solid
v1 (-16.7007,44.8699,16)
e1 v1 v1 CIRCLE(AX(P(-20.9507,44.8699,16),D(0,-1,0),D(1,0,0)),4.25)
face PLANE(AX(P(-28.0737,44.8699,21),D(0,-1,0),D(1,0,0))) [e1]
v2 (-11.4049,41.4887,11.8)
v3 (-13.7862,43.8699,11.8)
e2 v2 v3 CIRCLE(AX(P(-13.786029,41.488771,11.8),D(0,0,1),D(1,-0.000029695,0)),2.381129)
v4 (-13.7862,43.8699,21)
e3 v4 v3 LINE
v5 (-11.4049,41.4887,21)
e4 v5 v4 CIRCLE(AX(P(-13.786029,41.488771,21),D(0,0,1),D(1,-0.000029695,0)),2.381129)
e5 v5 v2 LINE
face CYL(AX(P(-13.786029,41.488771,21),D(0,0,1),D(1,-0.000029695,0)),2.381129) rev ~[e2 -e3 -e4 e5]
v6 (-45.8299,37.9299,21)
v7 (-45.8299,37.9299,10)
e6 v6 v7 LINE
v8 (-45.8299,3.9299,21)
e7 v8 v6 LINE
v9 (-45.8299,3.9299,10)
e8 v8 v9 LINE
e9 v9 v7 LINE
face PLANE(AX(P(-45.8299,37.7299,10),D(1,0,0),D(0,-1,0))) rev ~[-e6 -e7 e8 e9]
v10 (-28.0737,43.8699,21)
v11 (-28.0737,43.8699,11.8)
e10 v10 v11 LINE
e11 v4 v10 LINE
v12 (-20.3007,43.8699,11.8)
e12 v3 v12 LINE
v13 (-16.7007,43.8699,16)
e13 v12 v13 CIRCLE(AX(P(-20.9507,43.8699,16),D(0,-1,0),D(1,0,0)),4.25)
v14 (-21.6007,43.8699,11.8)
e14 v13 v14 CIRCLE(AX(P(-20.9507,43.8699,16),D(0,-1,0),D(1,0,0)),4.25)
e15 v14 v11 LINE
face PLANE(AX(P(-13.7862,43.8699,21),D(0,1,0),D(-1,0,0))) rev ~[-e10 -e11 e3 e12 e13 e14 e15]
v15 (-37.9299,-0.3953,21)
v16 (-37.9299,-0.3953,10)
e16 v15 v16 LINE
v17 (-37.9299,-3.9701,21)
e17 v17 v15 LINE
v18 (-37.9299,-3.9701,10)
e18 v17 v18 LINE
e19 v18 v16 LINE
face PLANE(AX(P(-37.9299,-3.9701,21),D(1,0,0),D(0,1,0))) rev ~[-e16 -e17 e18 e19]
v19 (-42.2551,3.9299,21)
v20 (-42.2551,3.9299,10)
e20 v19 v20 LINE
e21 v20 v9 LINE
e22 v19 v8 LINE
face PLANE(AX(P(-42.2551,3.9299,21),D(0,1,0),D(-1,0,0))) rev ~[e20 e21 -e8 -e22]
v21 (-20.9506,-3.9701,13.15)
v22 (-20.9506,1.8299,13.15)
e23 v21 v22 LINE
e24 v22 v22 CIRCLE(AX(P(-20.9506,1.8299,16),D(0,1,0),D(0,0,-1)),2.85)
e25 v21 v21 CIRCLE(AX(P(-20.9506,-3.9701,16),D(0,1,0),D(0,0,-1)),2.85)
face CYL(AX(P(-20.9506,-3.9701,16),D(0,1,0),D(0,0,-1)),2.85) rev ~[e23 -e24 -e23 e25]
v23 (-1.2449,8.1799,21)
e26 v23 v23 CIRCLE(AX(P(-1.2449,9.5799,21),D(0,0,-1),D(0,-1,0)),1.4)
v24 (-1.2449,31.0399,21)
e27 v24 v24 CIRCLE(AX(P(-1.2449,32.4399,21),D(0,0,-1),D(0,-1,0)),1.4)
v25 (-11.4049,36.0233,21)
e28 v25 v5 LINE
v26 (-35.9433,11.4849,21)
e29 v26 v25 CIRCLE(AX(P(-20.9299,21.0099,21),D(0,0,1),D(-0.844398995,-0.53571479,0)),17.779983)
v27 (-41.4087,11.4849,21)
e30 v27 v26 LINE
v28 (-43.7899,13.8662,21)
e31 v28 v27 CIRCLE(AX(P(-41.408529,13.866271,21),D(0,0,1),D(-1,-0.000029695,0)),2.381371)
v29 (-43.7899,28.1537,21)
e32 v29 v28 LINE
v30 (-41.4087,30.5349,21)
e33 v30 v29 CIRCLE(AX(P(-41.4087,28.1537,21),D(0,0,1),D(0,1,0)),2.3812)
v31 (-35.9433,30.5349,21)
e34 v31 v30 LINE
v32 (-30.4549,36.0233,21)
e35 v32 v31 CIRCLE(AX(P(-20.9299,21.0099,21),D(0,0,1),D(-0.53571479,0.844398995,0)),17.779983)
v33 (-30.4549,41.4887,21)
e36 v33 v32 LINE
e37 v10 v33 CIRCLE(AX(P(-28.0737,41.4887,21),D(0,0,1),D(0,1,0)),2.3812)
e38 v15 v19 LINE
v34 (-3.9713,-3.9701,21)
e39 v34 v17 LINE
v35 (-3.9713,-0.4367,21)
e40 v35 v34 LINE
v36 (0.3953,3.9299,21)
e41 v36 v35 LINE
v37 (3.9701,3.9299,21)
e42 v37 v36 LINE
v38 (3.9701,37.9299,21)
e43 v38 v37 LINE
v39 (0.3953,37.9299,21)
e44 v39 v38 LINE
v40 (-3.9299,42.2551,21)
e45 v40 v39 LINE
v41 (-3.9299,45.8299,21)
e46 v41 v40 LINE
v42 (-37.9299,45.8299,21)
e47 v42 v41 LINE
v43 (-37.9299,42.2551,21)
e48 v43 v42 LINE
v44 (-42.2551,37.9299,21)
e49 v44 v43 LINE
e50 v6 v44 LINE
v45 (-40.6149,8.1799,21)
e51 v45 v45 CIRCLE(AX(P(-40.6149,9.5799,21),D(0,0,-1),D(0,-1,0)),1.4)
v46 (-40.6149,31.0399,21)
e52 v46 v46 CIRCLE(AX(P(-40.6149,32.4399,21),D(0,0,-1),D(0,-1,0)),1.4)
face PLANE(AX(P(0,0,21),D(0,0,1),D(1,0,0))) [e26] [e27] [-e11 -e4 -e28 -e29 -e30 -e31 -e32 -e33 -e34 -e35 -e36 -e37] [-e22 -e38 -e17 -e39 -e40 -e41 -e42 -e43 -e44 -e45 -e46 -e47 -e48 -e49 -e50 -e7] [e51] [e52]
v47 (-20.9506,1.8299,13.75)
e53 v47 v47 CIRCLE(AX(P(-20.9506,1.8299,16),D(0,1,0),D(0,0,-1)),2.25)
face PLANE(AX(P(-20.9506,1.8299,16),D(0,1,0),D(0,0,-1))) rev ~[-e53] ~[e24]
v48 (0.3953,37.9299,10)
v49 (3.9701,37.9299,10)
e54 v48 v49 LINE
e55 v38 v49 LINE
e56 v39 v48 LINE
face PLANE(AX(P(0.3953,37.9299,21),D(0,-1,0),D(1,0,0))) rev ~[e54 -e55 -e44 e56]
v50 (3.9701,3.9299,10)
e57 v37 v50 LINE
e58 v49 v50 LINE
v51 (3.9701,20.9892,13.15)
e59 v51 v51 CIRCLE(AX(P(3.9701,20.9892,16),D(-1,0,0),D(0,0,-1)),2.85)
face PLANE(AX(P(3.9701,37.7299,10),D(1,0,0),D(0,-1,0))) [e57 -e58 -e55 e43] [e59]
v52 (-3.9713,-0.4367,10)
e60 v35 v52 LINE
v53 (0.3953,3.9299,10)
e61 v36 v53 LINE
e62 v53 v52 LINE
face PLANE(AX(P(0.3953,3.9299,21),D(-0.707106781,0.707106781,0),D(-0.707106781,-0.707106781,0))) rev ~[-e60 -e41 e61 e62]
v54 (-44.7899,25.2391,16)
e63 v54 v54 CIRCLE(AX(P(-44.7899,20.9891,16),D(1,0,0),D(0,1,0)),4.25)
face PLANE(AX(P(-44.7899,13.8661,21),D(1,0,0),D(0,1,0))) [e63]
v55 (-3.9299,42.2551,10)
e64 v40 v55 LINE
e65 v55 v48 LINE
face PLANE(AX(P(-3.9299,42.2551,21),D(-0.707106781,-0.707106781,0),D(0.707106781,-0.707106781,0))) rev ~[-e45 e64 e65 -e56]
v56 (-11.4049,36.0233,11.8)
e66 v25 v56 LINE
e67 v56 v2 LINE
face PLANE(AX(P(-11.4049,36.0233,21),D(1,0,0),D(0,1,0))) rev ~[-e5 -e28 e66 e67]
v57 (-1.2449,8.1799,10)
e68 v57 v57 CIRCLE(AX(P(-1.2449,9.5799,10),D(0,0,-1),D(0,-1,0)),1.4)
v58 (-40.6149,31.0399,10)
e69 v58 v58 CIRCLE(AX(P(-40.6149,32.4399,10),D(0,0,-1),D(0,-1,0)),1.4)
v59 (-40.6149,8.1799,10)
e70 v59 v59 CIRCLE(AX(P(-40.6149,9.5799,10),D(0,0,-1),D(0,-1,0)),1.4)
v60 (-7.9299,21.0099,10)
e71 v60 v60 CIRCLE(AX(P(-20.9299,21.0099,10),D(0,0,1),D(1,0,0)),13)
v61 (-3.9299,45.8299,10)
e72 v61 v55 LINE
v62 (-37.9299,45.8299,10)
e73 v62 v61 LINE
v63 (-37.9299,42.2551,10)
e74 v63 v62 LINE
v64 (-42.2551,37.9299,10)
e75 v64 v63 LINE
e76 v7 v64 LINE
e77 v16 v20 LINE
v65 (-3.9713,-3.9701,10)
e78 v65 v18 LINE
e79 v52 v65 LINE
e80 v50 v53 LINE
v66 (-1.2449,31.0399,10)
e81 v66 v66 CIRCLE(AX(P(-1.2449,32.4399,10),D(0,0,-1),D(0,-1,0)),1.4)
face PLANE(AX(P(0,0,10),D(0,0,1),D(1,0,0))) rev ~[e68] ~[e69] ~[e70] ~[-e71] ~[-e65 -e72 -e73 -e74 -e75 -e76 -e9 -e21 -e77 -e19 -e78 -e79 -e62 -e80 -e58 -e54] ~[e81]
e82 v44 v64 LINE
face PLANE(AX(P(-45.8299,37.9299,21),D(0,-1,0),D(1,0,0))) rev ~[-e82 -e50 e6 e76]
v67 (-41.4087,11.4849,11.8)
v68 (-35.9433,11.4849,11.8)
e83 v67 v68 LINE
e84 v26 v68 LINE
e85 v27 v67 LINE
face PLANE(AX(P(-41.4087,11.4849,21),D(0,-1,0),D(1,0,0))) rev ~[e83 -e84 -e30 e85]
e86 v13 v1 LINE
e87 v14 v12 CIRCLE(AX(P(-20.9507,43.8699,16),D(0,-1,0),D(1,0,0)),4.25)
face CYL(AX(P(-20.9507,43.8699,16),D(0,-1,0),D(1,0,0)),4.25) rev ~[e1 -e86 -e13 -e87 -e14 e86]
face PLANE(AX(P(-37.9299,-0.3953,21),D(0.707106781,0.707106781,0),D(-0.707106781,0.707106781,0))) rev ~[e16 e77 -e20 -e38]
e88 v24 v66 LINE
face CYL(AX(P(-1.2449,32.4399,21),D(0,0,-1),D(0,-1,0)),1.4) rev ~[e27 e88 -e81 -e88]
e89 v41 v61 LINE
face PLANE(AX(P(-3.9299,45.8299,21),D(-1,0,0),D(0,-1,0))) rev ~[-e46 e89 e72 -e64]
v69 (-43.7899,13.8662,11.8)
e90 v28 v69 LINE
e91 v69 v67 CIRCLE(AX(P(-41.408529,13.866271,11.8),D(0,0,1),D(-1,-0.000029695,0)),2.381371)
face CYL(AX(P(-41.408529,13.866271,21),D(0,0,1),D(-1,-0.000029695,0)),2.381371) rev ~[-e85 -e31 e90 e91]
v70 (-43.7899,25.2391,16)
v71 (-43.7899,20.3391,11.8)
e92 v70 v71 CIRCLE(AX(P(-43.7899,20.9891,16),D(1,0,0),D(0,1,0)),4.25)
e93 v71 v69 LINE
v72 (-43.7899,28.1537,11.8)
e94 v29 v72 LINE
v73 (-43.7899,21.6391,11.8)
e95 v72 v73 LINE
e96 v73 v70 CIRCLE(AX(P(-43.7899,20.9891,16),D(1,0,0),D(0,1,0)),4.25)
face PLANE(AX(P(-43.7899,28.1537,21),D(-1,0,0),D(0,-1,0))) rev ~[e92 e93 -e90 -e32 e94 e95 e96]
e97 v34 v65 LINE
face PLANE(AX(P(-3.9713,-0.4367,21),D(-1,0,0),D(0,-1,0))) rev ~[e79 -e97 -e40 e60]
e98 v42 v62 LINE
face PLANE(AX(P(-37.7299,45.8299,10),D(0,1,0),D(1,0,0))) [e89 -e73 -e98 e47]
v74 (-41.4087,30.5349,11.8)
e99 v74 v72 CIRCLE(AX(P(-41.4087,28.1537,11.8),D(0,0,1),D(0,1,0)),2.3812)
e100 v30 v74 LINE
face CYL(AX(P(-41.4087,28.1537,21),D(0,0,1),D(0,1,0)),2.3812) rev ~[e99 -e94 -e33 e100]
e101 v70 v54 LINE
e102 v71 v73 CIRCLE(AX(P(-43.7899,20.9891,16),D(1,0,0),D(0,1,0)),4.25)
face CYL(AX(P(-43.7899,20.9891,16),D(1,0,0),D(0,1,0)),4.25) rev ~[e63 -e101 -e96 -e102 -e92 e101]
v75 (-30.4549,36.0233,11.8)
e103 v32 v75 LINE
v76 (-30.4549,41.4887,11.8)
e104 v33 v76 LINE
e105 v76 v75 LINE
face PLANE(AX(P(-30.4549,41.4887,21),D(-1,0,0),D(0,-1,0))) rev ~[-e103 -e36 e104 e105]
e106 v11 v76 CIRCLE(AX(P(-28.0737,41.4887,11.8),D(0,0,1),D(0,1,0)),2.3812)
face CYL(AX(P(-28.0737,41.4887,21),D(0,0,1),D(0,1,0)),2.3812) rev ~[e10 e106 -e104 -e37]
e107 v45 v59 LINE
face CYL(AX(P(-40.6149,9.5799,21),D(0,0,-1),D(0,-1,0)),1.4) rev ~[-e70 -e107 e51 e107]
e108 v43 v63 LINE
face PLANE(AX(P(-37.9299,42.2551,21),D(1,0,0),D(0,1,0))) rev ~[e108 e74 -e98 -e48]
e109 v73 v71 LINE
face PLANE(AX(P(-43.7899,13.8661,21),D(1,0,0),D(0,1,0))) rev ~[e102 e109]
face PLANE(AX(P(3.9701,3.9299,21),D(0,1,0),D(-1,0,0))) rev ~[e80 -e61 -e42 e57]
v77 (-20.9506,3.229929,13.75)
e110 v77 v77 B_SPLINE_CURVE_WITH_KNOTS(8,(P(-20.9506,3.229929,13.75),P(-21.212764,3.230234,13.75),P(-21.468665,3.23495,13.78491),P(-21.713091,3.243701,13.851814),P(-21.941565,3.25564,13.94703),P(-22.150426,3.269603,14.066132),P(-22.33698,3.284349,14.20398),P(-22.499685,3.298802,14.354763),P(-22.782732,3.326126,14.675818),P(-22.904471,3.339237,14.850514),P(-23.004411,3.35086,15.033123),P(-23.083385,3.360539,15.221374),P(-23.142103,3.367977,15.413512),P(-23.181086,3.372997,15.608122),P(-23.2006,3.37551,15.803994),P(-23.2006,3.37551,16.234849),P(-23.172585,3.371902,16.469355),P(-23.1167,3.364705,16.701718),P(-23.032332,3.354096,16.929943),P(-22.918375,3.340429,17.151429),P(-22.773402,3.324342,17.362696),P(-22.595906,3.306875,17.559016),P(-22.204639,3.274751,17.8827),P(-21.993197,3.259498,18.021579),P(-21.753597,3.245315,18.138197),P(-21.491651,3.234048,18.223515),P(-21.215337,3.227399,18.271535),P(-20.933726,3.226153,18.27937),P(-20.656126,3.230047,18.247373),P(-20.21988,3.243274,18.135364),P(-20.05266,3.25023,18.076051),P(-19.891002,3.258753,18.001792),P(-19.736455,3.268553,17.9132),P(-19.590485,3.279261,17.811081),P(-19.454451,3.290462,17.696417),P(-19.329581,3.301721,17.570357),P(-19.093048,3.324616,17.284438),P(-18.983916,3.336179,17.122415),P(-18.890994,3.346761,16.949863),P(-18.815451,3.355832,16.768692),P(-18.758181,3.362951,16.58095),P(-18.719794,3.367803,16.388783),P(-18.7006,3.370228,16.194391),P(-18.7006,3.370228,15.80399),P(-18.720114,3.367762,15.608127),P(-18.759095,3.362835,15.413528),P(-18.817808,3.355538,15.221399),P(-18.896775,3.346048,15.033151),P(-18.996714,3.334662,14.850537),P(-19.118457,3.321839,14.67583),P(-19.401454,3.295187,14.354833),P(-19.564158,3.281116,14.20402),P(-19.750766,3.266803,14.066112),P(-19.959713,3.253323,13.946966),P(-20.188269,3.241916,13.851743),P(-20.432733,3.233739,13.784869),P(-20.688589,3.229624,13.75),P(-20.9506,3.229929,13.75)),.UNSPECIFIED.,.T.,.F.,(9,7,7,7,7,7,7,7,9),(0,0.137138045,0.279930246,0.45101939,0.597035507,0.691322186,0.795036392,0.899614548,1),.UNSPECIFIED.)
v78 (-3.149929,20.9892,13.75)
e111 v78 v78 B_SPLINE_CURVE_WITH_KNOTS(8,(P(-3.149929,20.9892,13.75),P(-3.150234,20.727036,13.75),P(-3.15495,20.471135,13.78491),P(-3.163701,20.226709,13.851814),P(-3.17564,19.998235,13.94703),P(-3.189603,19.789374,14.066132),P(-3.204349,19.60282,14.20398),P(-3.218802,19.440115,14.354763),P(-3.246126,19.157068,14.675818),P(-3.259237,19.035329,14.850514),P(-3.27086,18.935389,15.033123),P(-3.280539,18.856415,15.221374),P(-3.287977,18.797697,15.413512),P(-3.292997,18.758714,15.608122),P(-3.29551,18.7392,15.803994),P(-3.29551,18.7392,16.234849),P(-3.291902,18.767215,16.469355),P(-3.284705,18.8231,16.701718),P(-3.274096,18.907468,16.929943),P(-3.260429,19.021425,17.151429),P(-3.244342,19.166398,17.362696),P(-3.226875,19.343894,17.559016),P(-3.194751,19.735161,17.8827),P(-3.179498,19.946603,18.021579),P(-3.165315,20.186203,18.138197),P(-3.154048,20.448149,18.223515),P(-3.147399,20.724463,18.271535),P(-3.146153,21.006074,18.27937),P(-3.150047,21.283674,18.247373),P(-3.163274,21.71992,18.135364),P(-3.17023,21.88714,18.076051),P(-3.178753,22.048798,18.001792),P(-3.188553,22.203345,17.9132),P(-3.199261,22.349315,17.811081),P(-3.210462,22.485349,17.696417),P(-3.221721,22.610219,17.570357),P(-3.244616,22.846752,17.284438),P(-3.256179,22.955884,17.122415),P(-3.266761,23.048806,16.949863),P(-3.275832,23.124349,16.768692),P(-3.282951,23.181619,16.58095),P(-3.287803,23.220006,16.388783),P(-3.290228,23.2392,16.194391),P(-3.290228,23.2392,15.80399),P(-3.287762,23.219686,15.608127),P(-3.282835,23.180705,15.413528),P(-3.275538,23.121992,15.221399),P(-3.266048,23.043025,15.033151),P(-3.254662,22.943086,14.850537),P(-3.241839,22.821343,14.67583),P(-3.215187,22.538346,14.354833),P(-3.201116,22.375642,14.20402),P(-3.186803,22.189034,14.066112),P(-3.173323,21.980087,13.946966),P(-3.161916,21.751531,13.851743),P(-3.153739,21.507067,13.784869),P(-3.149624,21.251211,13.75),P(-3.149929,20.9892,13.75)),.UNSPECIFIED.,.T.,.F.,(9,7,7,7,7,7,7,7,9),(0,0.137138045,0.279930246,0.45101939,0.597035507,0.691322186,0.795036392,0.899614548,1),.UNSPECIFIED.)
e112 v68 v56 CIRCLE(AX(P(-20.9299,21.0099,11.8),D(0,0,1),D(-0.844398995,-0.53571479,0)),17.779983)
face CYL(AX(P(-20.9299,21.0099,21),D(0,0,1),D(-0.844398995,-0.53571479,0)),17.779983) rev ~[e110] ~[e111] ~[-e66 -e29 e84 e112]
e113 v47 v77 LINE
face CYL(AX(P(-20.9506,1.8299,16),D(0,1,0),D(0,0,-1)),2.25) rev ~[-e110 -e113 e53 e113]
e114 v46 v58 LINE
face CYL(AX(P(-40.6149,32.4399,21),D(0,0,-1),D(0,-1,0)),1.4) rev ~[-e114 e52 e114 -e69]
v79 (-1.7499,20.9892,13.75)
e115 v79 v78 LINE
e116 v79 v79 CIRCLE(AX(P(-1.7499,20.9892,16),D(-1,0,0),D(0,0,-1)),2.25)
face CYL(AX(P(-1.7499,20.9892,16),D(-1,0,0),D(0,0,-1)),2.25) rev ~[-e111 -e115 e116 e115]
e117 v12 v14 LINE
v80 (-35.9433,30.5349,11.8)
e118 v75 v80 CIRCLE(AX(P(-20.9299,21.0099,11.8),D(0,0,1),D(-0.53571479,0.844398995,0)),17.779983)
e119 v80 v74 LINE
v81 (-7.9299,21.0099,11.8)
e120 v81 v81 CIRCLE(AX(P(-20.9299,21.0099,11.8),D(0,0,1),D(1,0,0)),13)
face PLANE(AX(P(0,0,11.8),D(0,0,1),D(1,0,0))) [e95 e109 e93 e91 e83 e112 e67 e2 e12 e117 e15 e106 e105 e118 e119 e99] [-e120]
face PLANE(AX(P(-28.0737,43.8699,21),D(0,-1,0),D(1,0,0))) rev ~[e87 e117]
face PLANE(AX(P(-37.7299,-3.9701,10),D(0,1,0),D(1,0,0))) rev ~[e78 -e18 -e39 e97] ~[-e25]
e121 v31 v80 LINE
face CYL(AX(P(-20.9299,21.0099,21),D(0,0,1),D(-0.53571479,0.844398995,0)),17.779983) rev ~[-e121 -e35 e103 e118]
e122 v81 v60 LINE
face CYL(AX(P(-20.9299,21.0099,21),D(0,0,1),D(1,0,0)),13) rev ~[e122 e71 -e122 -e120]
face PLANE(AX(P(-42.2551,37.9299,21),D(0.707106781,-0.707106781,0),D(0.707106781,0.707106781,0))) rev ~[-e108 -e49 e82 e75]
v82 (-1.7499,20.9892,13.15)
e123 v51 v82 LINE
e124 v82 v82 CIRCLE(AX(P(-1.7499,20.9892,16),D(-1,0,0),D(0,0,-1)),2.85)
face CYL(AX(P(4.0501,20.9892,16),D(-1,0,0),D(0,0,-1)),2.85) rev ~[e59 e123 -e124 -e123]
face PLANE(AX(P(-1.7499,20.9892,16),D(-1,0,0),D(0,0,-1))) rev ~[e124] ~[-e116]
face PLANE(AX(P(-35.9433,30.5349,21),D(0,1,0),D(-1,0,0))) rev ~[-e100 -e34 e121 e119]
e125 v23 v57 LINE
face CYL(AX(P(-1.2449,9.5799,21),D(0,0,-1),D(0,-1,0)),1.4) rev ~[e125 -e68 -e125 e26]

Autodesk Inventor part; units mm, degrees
ref_plane "YZ Plane" through (0, 0, 0) normal (1, 0, 0) x (0, 1, 0)
ref_plane "XZ Plane" through (0, 0, 0) normal (0, 1, 0) x (-1, 0, 0)
ref_plane "Work Plane1" through (0, 0, 10) normal (0, 0, 1) x (1, 0, 0)
sketch "Sketch1" plane through (0, 0, 10) normal (0, 0, 1) x (1, 0, 0)
  line L0 (-4.0299, -0.3538) -> (-2.2322, 1.4439) construction
  arc A0 (-1.4439, 2.2322) -> (-2.2322, 1.4439) centre (-0.9299, 0.9299) ccw construction
  line L1 (-1.4439, 2.2322) -> (0.3538, 4.0299) construction
  line L2 (-37.8299, 42.8299) -> (-37.8299, 37.8299) construction
  line L3 (-37.8299, 37.8299) -> (-42.9208, 37.8299) construction
  line L4 (-37.8299, 42.2137) -> (-37.8299, 45.8299) construction
  line L5 (-37.8299, 45.8299) -> (-4.0299, 45.8299) construction
  line L6 (-4.0299, 45.8299) -> (-4.0299, 42.2137) construction
  line L7 (-4.0299, 4.0299) -> (0.3538, 4.0299) projected
  circle A1 centre (-20.9299, 20.9299) radius 17.5 projected
  line L8 (-20.9299, 58.9723) -> (17.1124, 20.9299) construction
  line L9 (17.1124, 20.9299) -> (-20.9299, -17.1124) construction
  line L10 (-20.9299, -17.1124) -> (-58.9723, 20.9299) construction
  line L11 (-58.9723, 20.9299) -> (-20.9299, 58.9723) construction
  line L12 (-20.9299, 58.9723) -> (-20.9299, -17.1124) construction
  line L13 (17.1124, 20.9299) -> (-58.9723, 20.9299) construction
  line L14 (-20.9299, 58.9723) -> (32.8701, 58.9723) construction
  line L15 (-43.4299, 43.4299) -> (1.5701, 43.4299) construction
  line L16 (1.5701, 43.4299) -> (1.5701, -1.5701) construction
  line L17 (1.5701, -1.5701) -> (-43.4299, -1.5701) construction
  line L18 (-43.4299, -1.5701) -> (-43.4299, 43.4299) construction
  line L19 (-43.4299, 43.4299) -> (1.5701, -1.5701) construction
  line L20 (1.5701, 43.4299) -> (-43.4299, -1.5701) construction
  line L21 (-43.4299, 5.3876) -> (-43.4299, 36.4723)
  line L22 (-43.4299, 36.4723) -> (-36.4723, 43.4299)
  line L23 (-36.4723, 43.4299) -> (-5.3876, 43.4299)
  line L24 (-5.3876, 43.4299) -> (1.5701, 36.4723)
  line L25 (1.5701, 36.4723) -> (1.5701, 5.3876)
  line L26 (1.5701, 5.3876) -> (-5.3876, -1.5701)
  line L27 (-5.3876, -1.5701) -> (-36.4723, -1.5701)
  line L28 (-36.4723, -1.5701) -> (-43.4299, 5.3876)
  line L29 (-4.0299, 42.2137) -> (-37.8299, 42.2137) projected
  line L30 (-4.0299, -0.3538) -> (-4.0299, 4.0299) projected
  circle A2 centre (-20.9299, 20.9299) radius 1.5
  line L31 (-10.9299, 10.9299) -> (-30.9299, 10.9299) construction
  line L32 (-30.9299, 10.9299) -> (-30.9299, 30.9299) construction
  line L33 (-30.9299, 30.9299) -> (-10.9299, 30.9299) construction
  line L34 (-10.9299, 30.9299) -> (-10.9299, 10.9299) construction
  line L35 (-10.9299, 10.9299) -> (-30.9299, 30.9299) construction
  line L36 (-30.9299, 10.9299) -> (-10.9299, 30.9299) construction
  circle A3 centre (-30.9299, 30.9299) radius 1.4
  circle A4 centre (-30.9299, 10.9299) radius 1.4
  circle A5 centre (-10.9299, 10.9299) radius 1.4
  line L37 (-45.8299, 37.8299) -> (-42.0723, 37.8299) construction
  line L38 (-42.1723, 37.7299) -> (-45.8299, 37.7299)
  line L39 (-45.8299, 37.7299) -> (-45.8299, 4.1299)
  line L40 (-45.8299, 4.1299) -> (-42.1723, 4.1299)
  line L41 (-42.1723, 4.1299) -> (-42.1723, 37.7299)
  line L42 (-45.8299, 4.0299) -> (-42.0723, 4.0299) construction
  line L43 (-45.8299, 37.8299) -> (-42.0723, 37.8299) projected
  line L44 (-37.7299, 45.8299) -> (-4.1299, 45.8299)
  line L45 (-4.1299, 45.8299) -> (-4.1299, 42.1723)
  line L46 (-4.1299, 42.1723) -> (-37.7299, 42.1723)
  line L47 (-37.7299, 42.1723) -> (-37.7299, 45.8299)
  line L48 (0.4701, 37.8299) -> (0.4701, 4.0299) construction
  line L49 (0.4701, 4.0299) -> (3.9701, 4.0299) construction
  line L50 (3.9701, 37.8299) -> (3.9701, 4.0299) construction
  line L51 (0.4701, 37.8299) -> (3.9701, 37.8299) construction
  line L52 (-45.8299, -3.9701) -> (-4.0299, -3.9701) construction
  line L53 (0.3124, 37.7299) -> (3.9701, 37.7299)
  line L54 (3.9701, 37.7299) -> (3.9701, 4.1299)
  line L55 (3.9701, 4.1299) -> (0.3124, 4.1299)
  line L56 (0.3124, 4.1299) -> (0.3124, 37.7299)
  line L57 (-4.1713, -0.3538) -> (-37.7299, -0.3538)
  line L58 (-37.7299, -0.3538) -> (-37.7299, -3.9701)
  line L59 (-37.7299, -3.9701) -> (-4.1713, -3.9701)
  line L60 (-4.1713, -3.9701) -> (-4.1713, -0.3538)
  point P0 (-37.8299, 4.0299)
  dimension "d18" = 53.8
  dimension "d19" = 45
  dimension "d20" = 53.8
  dimension "d21" = 45
  dimension "d22" = 45
  dimension "d30" = 20
  dimension "d31" = 20
  dimension "d32" = 2.8
  dimension "d33" = 2.8
  dimension "d34" = 2.8
  dimension "d35" = 3
  dimension "d36" = 0.1
  dimension "d37" = 0.1
  dimension "d38" = 0.1
  dimension "d39" = 0.1
extrude "Extrusion1" add sketch "Sketch1" along normal blind 11 contours L30 L26 L57 L28 L41 L22 L46 L24 L56 L7 | L7 L26 L30 | L56 L24 L25 L26 | L26 L25 L24 L53 L54 L55 | L60 L59 L58 L57 L28 L27 L26 | L26 L27 L28 L57 | L46 L22 L29 L24 | L24 L29 L45 | L40 L39 L38 L22 L21 L28 | L28 L21 L22 L41 | L29 L22 L23 L24 | L24 L23 L22 L29 L47 L44 L45 | L47 L29 L22 | A1 | A2 | A3 | A4 | A5
sketch "Skizze4" plane through (0, 0, 21) normal (0, 0, 1) x (1, 0, 0)
  line L0 (-37.7299, 42.1723) -> (-42.1723, 37.7299) projected
  line L1 (-42.1723, 37.7299) -> (-45.8299, 37.7299) projected
  line L2 (-45.8299, 37.7299) -> (-45.8299, 4.1299) construction
  line L3 (-45.8299, 4.1299) -> (-42.1723, 4.1299) projected
  line L4 (-42.1723, 4.1299) -> (-37.6885, -0.3538) projected
  line L5 (-37.6885, -0.3538) -> (-37.7299, -0.3538) projected
  line L6 (-37.7299, -0.3538) -> (-37.7299, -3.9701) projected
  line L7 (-37.7299, -3.9701) -> (-4.1713, -3.9701) construction
  line L8 (-4.1713, -3.9701) -> (-4.1713, -0.3538) projected
  line L9 (-4.1713, -0.3538) -> (0.3124, 4.1299) projected
  line L10 (0.3124, 4.1299) -> (3.9701, 4.1299) projected
  line L11 (3.9701, 4.1299) -> (3.9701, 37.7299) construction
  line L12 (3.9701, 37.7299) -> (0.3124, 37.7299) projected
  line L13 (0.3124, 37.7299) -> (-4.1299, 42.1723) projected
  line L14 (-4.1299, 42.1723) -> (-4.1299, 45.8299) projected
  line L15 (-4.1299, 45.8299) -> (-37.7299, 45.8299) construction
  line L16 (-37.7299, 45.8299) -> (-37.7299, 42.1723) projected
  line L17 (-37.9299, 46.0299) -> (-3.9299, 46.0299) construction
  line L18 (-3.9299, 46.0299) -> (-3.9299, 42.2551)
  line L19 (-3.9299, 42.2551) -> (0.3953, 37.9299)
  line L20 (0.3953, 37.9299) -> (4.1701, 37.9299)
  line L21 (4.1701, 37.9299) -> (4.1701, 3.9299) construction
  line L22 (4.1701, 3.9299) -> (0.3953, 3.9299)
  line L23 (0.3953, 3.9299) -> (-3.9713, -0.4367)
  line L24 (-3.9713, -0.4367) -> (-3.9713, -4.1701)
  line L25 (-3.9713, -4.1701) -> (-37.9299, -4.1701) construction
  line L26 (-37.9299, -4.1701) -> (-37.9299, -0.3953)
  line L27 (-37.9299, -0.3953) -> (-42.2551, 3.9299)
  line L28 (-42.2551, 3.9299) -> (-46.0299, 3.9299)
  line L29 (-46.0299, 3.9299) -> (-46.0299, 37.9299) construction
  line L30 (-46.0299, 37.9299) -> (-42.2551, 37.9299)
  line L31 (-42.2551, 37.9299) -> (-37.9299, 42.2551)
  line L32 (-37.9299, 42.2551) -> (-37.9299, 46.0299)
  line L33 (-45.8299, 37.7299) -> (-45.8299, 37.9299)
  line L34 (-4.1299, 45.8299) -> (-37.7299, 45.8299) projected
  line L35 (-37.7299, 45.8299) -> (-37.9299, 45.8299)
  line L36 (-4.1299, 45.8299) -> (-3.9299, 45.8299)
  line L37 (3.9701, 37.7299) -> (3.9701, 37.9299)
  line L38 (3.9701, 4.1299) -> (3.9701, 37.7299) projected
  line L39 (3.9701, 4.1299) -> (3.9701, 3.9299)
  line L40 (-4.1713, -3.9701) -> (-3.9713, -3.9701)
  line L41 (-37.7299, -3.9701) -> (-37.9299, -3.9701)
  line L42 (-45.8299, 4.1299) -> (-45.8299, 3.9299)
  point P0 (0, 0)
  dimension "d40" = 0.2
extrude "IM_offset" add sketch "Skizze4" against normal up to surface (11 mm away)
ref_plane "Arbeitsebene5" through (-20.9299, 3.9299, 10) normal (1, 0, 0) x (0, 0, -1)
ref_plane "Arbeitsebene6" through (-37.9299, 20.9299, 10) normal (0, 1, 0) x (1, 0, 0)
sketch "Skizze25" plane through (0, 0, 21) normal (0, 0, 1) x (1, 0, 0)
  arc A0 (-35.9433, 11.4849) -> (-11.4049, 36.0233) centre (-20.9299, 21.0099) ccw projected
  circle A1 centre (-20.9299, 21.0099) radius 17.78
  circle A2 centre (-20.9299, 21.0099) radius 13
  point P0 (0, 0)
  point P1 (-11.4049, 36.0233)
  dimension "d152" = 26
extrude "Extrusion21" cut sketch "Skizze25" against normal blind 12 contours A2
sketch "Skizze26" plane through (0, 0, 21) normal (0, 0, 1) x (1, 0, 0)
  line L0 (-43.7899, 28.1537) -> (-43.7899, 13.8662) projected
  arc A0 (-43.7899, 13.8662) -> (-41.4087, 11.4849) centre (-41.4087, 13.8662) ccw projected
  line L1 (-41.4087, 11.4849) -> (-35.9433, 11.4849) projected
  arc A1 (-35.9433, 11.4849) -> (-11.4049, 36.0233) centre (-20.9299, 21.0099) ccw projected
  line L2 (-11.4049, 36.0233) -> (-11.4049, 41.4887) projected
  arc A2 (-11.4049, 41.4887) -> (-13.7862, 43.8699) centre (-13.7862, 41.4887) ccw projected
  line L3 (-13.7862, 43.8699) -> (-28.0737, 43.8699) projected
  arc A3 (-28.0737, 43.8699) -> (-30.4549, 41.4887) centre (-28.0737, 41.4887) ccw projected
  line L4 (-30.4549, 41.4887) -> (-30.4549, 36.0233) projected
  arc A4 (-30.4549, 36.0233) -> (-35.9433, 30.5349) centre (-20.9299, 21.0099) ccw projected
  line L5 (-35.9433, 30.5349) -> (-41.4087, 30.5349) projected
  arc A5 (-41.4087, 30.5349) -> (-43.7899, 28.1537) centre (-41.4087, 28.1537) ccw projected
  circle A6 centre (-20.9299, 21.0099) radius 13.2911 projected
  point P0 (0, 0)
extrude "Extrusion22" cut sketch "Skizze26" against normal blind 9.2 contours A5 L5 A4 L4 A3 L3 A2 L2 A1 L1 A0 L0 | A6
sketch "Skizze27" plane through (-37.9299, -3.9701, 10) normal (0, -1, 0) x (1, 0, 0)
  line L0 (33.9586, 0) -> (0, 0) projected
  line L1 (33.9586, 11) -> (33.9586, 0) projected
  line L2 (33.9586, 11) -> (0, 11) projected
  line L3 (0, 11) -> (0, 0) projected
  circle A0 centre (16.9793, 6) radius 2.85
  point P0 (37.9299, -10)
  dimension "d155" = 5.7
hole "Bohrung1" at (-20.9506, -3.9701, 16) direction (0, 1, 0) diameter 4.5 depth 30 tip angle 118 counterbore diameter 5.7 counterbore depth 5.8
sketch "Skizze28" plane through (0, 0, 21) normal (0, 0, 1) x (1, 0, 0)
  line L0 (-35.9433, 11.4849) -> (-41.4087, 11.4849) projected
  arc A0 (-43.7899, 13.8662) -> (-41.4087, 11.4849) centre (-41.4087, 13.8662) ccw projected
  line L1 (-43.7899, 13.8662) -> (-43.7899, 28.1537) projected
  arc A1 (-41.4087, 30.5349) -> (-43.7899, 28.1537) centre (-41.4087, 28.1537) ccw projected
  line L2 (-41.4087, 30.5349) -> (-35.9433, 30.5349) projected
  arc A2 (-30.4549, 36.0233) -> (-35.9433, 30.5349) centre (-20.9299, 21.0099) ccw projected
  line L3 (-30.4549, 36.0233) -> (-30.4549, 41.4887) projected
  arc A3 (-28.0737, 43.8699) -> (-30.4549, 41.4887) centre (-28.0737, 41.4887) ccw projected
  line L4 (-28.0737, 43.8699) -> (-13.7862, 43.8699) projected
  arc A4 (-11.4049, 41.4887) -> (-13.7862, 43.8699) centre (-13.7862, 41.4887) ccw projected
  line L5 (-11.4049, 41.4887) -> (-11.4049, 36.0233) projected
  arc A5 (-35.9433, 11.4849) -> (-11.4049, 36.0233) centre (-20.9299, 21.0099) ccw projected
  line L6 (3.9701, 3.9299) -> (3.9701, 37.9299) projected
  line L7 (3.9701, 37.9299) -> (0.3953, 37.9299) projected
  line L8 (0.3953, 37.9299) -> (-3.9299, 42.2551) projected
  line L9 (-3.9299, 42.2551) -> (-3.9299, 45.8299) projected
  line L10 (-3.9299, 45.8299) -> (-37.9299, 45.8299) projected
  line L11 (-37.9299, 45.8299) -> (-37.9299, 42.2551) projected
  line L12 (-37.9299, 42.2551) -> (-42.2551, 37.9299) projected
  line L13 (-42.2551, 37.9299) -> (-45.8299, 37.9299) projected
  line L14 (-45.8299, 37.9299) -> (-45.8299, 3.9299) projected
  line L15 (-42.2551, 3.9299) -> (-45.8299, 3.9299) projected
  line L16 (-37.9299, -0.3953) -> (-42.2551, 3.9299) projected
  line L17 (-37.9299, -3.9701) -> (-37.9299, -0.3953) projected
  line L18 (-3.9713, -3.9701) -> (-37.9299, -3.9701) projected
  line L19 (-3.9713, -3.9701) -> (-3.9713, -0.4367) projected
  line L20 (-3.9713, -0.4367) -> (0.3953, 3.9299) projected
  line L21 (0.3953, 3.9299) -> (3.9701, 3.9299) projected
  circle A6 centre (-1.2449, 9.5799) radius 2.0828 projected
  circle A7 centre (-1.2449, 32.4399) radius 2.0828 projected
  circle A8 centre (-40.6149, 32.4399) radius 2.0828 projected
  circle A9 centre (-40.6149, 9.5799) radius 2.0828 projected
  point P0 (0, 0)
hole "Bohrung2" at (-40.6149, 9.5799, 21) at (-40.6149, 32.4399, 21) at (-1.2449, 32.4399, 21) at (-1.2449, 9.5799, 21) direction (0, 0, -1) diameter 2.8 depth 30 tip angle 118
sketch "Skizze29" plane through (-28.0737, 43.8699, 21) normal (0, -1, 0) x (1, 0, 0)
  circle A0 centre (7.123, -5) radius 2.85 projected
  circle A1 centre (7.123, -5) radius 4.25
  point P0 (28.0737, -21)
  dimension "d173" = 8.5
extrude "Extrusion23" cut sketch "Skizze29" against normal blind 1 contours A0 | A1
pattern_circular "Runde Anordnung1" count 2 over 90 about axis through (-20.9299, 21.0099, 21) along (0, 0, 1) of "Bohrung1", "Extrusion23"
properties part number "20_Cube_Insert_Filter_25mm"
